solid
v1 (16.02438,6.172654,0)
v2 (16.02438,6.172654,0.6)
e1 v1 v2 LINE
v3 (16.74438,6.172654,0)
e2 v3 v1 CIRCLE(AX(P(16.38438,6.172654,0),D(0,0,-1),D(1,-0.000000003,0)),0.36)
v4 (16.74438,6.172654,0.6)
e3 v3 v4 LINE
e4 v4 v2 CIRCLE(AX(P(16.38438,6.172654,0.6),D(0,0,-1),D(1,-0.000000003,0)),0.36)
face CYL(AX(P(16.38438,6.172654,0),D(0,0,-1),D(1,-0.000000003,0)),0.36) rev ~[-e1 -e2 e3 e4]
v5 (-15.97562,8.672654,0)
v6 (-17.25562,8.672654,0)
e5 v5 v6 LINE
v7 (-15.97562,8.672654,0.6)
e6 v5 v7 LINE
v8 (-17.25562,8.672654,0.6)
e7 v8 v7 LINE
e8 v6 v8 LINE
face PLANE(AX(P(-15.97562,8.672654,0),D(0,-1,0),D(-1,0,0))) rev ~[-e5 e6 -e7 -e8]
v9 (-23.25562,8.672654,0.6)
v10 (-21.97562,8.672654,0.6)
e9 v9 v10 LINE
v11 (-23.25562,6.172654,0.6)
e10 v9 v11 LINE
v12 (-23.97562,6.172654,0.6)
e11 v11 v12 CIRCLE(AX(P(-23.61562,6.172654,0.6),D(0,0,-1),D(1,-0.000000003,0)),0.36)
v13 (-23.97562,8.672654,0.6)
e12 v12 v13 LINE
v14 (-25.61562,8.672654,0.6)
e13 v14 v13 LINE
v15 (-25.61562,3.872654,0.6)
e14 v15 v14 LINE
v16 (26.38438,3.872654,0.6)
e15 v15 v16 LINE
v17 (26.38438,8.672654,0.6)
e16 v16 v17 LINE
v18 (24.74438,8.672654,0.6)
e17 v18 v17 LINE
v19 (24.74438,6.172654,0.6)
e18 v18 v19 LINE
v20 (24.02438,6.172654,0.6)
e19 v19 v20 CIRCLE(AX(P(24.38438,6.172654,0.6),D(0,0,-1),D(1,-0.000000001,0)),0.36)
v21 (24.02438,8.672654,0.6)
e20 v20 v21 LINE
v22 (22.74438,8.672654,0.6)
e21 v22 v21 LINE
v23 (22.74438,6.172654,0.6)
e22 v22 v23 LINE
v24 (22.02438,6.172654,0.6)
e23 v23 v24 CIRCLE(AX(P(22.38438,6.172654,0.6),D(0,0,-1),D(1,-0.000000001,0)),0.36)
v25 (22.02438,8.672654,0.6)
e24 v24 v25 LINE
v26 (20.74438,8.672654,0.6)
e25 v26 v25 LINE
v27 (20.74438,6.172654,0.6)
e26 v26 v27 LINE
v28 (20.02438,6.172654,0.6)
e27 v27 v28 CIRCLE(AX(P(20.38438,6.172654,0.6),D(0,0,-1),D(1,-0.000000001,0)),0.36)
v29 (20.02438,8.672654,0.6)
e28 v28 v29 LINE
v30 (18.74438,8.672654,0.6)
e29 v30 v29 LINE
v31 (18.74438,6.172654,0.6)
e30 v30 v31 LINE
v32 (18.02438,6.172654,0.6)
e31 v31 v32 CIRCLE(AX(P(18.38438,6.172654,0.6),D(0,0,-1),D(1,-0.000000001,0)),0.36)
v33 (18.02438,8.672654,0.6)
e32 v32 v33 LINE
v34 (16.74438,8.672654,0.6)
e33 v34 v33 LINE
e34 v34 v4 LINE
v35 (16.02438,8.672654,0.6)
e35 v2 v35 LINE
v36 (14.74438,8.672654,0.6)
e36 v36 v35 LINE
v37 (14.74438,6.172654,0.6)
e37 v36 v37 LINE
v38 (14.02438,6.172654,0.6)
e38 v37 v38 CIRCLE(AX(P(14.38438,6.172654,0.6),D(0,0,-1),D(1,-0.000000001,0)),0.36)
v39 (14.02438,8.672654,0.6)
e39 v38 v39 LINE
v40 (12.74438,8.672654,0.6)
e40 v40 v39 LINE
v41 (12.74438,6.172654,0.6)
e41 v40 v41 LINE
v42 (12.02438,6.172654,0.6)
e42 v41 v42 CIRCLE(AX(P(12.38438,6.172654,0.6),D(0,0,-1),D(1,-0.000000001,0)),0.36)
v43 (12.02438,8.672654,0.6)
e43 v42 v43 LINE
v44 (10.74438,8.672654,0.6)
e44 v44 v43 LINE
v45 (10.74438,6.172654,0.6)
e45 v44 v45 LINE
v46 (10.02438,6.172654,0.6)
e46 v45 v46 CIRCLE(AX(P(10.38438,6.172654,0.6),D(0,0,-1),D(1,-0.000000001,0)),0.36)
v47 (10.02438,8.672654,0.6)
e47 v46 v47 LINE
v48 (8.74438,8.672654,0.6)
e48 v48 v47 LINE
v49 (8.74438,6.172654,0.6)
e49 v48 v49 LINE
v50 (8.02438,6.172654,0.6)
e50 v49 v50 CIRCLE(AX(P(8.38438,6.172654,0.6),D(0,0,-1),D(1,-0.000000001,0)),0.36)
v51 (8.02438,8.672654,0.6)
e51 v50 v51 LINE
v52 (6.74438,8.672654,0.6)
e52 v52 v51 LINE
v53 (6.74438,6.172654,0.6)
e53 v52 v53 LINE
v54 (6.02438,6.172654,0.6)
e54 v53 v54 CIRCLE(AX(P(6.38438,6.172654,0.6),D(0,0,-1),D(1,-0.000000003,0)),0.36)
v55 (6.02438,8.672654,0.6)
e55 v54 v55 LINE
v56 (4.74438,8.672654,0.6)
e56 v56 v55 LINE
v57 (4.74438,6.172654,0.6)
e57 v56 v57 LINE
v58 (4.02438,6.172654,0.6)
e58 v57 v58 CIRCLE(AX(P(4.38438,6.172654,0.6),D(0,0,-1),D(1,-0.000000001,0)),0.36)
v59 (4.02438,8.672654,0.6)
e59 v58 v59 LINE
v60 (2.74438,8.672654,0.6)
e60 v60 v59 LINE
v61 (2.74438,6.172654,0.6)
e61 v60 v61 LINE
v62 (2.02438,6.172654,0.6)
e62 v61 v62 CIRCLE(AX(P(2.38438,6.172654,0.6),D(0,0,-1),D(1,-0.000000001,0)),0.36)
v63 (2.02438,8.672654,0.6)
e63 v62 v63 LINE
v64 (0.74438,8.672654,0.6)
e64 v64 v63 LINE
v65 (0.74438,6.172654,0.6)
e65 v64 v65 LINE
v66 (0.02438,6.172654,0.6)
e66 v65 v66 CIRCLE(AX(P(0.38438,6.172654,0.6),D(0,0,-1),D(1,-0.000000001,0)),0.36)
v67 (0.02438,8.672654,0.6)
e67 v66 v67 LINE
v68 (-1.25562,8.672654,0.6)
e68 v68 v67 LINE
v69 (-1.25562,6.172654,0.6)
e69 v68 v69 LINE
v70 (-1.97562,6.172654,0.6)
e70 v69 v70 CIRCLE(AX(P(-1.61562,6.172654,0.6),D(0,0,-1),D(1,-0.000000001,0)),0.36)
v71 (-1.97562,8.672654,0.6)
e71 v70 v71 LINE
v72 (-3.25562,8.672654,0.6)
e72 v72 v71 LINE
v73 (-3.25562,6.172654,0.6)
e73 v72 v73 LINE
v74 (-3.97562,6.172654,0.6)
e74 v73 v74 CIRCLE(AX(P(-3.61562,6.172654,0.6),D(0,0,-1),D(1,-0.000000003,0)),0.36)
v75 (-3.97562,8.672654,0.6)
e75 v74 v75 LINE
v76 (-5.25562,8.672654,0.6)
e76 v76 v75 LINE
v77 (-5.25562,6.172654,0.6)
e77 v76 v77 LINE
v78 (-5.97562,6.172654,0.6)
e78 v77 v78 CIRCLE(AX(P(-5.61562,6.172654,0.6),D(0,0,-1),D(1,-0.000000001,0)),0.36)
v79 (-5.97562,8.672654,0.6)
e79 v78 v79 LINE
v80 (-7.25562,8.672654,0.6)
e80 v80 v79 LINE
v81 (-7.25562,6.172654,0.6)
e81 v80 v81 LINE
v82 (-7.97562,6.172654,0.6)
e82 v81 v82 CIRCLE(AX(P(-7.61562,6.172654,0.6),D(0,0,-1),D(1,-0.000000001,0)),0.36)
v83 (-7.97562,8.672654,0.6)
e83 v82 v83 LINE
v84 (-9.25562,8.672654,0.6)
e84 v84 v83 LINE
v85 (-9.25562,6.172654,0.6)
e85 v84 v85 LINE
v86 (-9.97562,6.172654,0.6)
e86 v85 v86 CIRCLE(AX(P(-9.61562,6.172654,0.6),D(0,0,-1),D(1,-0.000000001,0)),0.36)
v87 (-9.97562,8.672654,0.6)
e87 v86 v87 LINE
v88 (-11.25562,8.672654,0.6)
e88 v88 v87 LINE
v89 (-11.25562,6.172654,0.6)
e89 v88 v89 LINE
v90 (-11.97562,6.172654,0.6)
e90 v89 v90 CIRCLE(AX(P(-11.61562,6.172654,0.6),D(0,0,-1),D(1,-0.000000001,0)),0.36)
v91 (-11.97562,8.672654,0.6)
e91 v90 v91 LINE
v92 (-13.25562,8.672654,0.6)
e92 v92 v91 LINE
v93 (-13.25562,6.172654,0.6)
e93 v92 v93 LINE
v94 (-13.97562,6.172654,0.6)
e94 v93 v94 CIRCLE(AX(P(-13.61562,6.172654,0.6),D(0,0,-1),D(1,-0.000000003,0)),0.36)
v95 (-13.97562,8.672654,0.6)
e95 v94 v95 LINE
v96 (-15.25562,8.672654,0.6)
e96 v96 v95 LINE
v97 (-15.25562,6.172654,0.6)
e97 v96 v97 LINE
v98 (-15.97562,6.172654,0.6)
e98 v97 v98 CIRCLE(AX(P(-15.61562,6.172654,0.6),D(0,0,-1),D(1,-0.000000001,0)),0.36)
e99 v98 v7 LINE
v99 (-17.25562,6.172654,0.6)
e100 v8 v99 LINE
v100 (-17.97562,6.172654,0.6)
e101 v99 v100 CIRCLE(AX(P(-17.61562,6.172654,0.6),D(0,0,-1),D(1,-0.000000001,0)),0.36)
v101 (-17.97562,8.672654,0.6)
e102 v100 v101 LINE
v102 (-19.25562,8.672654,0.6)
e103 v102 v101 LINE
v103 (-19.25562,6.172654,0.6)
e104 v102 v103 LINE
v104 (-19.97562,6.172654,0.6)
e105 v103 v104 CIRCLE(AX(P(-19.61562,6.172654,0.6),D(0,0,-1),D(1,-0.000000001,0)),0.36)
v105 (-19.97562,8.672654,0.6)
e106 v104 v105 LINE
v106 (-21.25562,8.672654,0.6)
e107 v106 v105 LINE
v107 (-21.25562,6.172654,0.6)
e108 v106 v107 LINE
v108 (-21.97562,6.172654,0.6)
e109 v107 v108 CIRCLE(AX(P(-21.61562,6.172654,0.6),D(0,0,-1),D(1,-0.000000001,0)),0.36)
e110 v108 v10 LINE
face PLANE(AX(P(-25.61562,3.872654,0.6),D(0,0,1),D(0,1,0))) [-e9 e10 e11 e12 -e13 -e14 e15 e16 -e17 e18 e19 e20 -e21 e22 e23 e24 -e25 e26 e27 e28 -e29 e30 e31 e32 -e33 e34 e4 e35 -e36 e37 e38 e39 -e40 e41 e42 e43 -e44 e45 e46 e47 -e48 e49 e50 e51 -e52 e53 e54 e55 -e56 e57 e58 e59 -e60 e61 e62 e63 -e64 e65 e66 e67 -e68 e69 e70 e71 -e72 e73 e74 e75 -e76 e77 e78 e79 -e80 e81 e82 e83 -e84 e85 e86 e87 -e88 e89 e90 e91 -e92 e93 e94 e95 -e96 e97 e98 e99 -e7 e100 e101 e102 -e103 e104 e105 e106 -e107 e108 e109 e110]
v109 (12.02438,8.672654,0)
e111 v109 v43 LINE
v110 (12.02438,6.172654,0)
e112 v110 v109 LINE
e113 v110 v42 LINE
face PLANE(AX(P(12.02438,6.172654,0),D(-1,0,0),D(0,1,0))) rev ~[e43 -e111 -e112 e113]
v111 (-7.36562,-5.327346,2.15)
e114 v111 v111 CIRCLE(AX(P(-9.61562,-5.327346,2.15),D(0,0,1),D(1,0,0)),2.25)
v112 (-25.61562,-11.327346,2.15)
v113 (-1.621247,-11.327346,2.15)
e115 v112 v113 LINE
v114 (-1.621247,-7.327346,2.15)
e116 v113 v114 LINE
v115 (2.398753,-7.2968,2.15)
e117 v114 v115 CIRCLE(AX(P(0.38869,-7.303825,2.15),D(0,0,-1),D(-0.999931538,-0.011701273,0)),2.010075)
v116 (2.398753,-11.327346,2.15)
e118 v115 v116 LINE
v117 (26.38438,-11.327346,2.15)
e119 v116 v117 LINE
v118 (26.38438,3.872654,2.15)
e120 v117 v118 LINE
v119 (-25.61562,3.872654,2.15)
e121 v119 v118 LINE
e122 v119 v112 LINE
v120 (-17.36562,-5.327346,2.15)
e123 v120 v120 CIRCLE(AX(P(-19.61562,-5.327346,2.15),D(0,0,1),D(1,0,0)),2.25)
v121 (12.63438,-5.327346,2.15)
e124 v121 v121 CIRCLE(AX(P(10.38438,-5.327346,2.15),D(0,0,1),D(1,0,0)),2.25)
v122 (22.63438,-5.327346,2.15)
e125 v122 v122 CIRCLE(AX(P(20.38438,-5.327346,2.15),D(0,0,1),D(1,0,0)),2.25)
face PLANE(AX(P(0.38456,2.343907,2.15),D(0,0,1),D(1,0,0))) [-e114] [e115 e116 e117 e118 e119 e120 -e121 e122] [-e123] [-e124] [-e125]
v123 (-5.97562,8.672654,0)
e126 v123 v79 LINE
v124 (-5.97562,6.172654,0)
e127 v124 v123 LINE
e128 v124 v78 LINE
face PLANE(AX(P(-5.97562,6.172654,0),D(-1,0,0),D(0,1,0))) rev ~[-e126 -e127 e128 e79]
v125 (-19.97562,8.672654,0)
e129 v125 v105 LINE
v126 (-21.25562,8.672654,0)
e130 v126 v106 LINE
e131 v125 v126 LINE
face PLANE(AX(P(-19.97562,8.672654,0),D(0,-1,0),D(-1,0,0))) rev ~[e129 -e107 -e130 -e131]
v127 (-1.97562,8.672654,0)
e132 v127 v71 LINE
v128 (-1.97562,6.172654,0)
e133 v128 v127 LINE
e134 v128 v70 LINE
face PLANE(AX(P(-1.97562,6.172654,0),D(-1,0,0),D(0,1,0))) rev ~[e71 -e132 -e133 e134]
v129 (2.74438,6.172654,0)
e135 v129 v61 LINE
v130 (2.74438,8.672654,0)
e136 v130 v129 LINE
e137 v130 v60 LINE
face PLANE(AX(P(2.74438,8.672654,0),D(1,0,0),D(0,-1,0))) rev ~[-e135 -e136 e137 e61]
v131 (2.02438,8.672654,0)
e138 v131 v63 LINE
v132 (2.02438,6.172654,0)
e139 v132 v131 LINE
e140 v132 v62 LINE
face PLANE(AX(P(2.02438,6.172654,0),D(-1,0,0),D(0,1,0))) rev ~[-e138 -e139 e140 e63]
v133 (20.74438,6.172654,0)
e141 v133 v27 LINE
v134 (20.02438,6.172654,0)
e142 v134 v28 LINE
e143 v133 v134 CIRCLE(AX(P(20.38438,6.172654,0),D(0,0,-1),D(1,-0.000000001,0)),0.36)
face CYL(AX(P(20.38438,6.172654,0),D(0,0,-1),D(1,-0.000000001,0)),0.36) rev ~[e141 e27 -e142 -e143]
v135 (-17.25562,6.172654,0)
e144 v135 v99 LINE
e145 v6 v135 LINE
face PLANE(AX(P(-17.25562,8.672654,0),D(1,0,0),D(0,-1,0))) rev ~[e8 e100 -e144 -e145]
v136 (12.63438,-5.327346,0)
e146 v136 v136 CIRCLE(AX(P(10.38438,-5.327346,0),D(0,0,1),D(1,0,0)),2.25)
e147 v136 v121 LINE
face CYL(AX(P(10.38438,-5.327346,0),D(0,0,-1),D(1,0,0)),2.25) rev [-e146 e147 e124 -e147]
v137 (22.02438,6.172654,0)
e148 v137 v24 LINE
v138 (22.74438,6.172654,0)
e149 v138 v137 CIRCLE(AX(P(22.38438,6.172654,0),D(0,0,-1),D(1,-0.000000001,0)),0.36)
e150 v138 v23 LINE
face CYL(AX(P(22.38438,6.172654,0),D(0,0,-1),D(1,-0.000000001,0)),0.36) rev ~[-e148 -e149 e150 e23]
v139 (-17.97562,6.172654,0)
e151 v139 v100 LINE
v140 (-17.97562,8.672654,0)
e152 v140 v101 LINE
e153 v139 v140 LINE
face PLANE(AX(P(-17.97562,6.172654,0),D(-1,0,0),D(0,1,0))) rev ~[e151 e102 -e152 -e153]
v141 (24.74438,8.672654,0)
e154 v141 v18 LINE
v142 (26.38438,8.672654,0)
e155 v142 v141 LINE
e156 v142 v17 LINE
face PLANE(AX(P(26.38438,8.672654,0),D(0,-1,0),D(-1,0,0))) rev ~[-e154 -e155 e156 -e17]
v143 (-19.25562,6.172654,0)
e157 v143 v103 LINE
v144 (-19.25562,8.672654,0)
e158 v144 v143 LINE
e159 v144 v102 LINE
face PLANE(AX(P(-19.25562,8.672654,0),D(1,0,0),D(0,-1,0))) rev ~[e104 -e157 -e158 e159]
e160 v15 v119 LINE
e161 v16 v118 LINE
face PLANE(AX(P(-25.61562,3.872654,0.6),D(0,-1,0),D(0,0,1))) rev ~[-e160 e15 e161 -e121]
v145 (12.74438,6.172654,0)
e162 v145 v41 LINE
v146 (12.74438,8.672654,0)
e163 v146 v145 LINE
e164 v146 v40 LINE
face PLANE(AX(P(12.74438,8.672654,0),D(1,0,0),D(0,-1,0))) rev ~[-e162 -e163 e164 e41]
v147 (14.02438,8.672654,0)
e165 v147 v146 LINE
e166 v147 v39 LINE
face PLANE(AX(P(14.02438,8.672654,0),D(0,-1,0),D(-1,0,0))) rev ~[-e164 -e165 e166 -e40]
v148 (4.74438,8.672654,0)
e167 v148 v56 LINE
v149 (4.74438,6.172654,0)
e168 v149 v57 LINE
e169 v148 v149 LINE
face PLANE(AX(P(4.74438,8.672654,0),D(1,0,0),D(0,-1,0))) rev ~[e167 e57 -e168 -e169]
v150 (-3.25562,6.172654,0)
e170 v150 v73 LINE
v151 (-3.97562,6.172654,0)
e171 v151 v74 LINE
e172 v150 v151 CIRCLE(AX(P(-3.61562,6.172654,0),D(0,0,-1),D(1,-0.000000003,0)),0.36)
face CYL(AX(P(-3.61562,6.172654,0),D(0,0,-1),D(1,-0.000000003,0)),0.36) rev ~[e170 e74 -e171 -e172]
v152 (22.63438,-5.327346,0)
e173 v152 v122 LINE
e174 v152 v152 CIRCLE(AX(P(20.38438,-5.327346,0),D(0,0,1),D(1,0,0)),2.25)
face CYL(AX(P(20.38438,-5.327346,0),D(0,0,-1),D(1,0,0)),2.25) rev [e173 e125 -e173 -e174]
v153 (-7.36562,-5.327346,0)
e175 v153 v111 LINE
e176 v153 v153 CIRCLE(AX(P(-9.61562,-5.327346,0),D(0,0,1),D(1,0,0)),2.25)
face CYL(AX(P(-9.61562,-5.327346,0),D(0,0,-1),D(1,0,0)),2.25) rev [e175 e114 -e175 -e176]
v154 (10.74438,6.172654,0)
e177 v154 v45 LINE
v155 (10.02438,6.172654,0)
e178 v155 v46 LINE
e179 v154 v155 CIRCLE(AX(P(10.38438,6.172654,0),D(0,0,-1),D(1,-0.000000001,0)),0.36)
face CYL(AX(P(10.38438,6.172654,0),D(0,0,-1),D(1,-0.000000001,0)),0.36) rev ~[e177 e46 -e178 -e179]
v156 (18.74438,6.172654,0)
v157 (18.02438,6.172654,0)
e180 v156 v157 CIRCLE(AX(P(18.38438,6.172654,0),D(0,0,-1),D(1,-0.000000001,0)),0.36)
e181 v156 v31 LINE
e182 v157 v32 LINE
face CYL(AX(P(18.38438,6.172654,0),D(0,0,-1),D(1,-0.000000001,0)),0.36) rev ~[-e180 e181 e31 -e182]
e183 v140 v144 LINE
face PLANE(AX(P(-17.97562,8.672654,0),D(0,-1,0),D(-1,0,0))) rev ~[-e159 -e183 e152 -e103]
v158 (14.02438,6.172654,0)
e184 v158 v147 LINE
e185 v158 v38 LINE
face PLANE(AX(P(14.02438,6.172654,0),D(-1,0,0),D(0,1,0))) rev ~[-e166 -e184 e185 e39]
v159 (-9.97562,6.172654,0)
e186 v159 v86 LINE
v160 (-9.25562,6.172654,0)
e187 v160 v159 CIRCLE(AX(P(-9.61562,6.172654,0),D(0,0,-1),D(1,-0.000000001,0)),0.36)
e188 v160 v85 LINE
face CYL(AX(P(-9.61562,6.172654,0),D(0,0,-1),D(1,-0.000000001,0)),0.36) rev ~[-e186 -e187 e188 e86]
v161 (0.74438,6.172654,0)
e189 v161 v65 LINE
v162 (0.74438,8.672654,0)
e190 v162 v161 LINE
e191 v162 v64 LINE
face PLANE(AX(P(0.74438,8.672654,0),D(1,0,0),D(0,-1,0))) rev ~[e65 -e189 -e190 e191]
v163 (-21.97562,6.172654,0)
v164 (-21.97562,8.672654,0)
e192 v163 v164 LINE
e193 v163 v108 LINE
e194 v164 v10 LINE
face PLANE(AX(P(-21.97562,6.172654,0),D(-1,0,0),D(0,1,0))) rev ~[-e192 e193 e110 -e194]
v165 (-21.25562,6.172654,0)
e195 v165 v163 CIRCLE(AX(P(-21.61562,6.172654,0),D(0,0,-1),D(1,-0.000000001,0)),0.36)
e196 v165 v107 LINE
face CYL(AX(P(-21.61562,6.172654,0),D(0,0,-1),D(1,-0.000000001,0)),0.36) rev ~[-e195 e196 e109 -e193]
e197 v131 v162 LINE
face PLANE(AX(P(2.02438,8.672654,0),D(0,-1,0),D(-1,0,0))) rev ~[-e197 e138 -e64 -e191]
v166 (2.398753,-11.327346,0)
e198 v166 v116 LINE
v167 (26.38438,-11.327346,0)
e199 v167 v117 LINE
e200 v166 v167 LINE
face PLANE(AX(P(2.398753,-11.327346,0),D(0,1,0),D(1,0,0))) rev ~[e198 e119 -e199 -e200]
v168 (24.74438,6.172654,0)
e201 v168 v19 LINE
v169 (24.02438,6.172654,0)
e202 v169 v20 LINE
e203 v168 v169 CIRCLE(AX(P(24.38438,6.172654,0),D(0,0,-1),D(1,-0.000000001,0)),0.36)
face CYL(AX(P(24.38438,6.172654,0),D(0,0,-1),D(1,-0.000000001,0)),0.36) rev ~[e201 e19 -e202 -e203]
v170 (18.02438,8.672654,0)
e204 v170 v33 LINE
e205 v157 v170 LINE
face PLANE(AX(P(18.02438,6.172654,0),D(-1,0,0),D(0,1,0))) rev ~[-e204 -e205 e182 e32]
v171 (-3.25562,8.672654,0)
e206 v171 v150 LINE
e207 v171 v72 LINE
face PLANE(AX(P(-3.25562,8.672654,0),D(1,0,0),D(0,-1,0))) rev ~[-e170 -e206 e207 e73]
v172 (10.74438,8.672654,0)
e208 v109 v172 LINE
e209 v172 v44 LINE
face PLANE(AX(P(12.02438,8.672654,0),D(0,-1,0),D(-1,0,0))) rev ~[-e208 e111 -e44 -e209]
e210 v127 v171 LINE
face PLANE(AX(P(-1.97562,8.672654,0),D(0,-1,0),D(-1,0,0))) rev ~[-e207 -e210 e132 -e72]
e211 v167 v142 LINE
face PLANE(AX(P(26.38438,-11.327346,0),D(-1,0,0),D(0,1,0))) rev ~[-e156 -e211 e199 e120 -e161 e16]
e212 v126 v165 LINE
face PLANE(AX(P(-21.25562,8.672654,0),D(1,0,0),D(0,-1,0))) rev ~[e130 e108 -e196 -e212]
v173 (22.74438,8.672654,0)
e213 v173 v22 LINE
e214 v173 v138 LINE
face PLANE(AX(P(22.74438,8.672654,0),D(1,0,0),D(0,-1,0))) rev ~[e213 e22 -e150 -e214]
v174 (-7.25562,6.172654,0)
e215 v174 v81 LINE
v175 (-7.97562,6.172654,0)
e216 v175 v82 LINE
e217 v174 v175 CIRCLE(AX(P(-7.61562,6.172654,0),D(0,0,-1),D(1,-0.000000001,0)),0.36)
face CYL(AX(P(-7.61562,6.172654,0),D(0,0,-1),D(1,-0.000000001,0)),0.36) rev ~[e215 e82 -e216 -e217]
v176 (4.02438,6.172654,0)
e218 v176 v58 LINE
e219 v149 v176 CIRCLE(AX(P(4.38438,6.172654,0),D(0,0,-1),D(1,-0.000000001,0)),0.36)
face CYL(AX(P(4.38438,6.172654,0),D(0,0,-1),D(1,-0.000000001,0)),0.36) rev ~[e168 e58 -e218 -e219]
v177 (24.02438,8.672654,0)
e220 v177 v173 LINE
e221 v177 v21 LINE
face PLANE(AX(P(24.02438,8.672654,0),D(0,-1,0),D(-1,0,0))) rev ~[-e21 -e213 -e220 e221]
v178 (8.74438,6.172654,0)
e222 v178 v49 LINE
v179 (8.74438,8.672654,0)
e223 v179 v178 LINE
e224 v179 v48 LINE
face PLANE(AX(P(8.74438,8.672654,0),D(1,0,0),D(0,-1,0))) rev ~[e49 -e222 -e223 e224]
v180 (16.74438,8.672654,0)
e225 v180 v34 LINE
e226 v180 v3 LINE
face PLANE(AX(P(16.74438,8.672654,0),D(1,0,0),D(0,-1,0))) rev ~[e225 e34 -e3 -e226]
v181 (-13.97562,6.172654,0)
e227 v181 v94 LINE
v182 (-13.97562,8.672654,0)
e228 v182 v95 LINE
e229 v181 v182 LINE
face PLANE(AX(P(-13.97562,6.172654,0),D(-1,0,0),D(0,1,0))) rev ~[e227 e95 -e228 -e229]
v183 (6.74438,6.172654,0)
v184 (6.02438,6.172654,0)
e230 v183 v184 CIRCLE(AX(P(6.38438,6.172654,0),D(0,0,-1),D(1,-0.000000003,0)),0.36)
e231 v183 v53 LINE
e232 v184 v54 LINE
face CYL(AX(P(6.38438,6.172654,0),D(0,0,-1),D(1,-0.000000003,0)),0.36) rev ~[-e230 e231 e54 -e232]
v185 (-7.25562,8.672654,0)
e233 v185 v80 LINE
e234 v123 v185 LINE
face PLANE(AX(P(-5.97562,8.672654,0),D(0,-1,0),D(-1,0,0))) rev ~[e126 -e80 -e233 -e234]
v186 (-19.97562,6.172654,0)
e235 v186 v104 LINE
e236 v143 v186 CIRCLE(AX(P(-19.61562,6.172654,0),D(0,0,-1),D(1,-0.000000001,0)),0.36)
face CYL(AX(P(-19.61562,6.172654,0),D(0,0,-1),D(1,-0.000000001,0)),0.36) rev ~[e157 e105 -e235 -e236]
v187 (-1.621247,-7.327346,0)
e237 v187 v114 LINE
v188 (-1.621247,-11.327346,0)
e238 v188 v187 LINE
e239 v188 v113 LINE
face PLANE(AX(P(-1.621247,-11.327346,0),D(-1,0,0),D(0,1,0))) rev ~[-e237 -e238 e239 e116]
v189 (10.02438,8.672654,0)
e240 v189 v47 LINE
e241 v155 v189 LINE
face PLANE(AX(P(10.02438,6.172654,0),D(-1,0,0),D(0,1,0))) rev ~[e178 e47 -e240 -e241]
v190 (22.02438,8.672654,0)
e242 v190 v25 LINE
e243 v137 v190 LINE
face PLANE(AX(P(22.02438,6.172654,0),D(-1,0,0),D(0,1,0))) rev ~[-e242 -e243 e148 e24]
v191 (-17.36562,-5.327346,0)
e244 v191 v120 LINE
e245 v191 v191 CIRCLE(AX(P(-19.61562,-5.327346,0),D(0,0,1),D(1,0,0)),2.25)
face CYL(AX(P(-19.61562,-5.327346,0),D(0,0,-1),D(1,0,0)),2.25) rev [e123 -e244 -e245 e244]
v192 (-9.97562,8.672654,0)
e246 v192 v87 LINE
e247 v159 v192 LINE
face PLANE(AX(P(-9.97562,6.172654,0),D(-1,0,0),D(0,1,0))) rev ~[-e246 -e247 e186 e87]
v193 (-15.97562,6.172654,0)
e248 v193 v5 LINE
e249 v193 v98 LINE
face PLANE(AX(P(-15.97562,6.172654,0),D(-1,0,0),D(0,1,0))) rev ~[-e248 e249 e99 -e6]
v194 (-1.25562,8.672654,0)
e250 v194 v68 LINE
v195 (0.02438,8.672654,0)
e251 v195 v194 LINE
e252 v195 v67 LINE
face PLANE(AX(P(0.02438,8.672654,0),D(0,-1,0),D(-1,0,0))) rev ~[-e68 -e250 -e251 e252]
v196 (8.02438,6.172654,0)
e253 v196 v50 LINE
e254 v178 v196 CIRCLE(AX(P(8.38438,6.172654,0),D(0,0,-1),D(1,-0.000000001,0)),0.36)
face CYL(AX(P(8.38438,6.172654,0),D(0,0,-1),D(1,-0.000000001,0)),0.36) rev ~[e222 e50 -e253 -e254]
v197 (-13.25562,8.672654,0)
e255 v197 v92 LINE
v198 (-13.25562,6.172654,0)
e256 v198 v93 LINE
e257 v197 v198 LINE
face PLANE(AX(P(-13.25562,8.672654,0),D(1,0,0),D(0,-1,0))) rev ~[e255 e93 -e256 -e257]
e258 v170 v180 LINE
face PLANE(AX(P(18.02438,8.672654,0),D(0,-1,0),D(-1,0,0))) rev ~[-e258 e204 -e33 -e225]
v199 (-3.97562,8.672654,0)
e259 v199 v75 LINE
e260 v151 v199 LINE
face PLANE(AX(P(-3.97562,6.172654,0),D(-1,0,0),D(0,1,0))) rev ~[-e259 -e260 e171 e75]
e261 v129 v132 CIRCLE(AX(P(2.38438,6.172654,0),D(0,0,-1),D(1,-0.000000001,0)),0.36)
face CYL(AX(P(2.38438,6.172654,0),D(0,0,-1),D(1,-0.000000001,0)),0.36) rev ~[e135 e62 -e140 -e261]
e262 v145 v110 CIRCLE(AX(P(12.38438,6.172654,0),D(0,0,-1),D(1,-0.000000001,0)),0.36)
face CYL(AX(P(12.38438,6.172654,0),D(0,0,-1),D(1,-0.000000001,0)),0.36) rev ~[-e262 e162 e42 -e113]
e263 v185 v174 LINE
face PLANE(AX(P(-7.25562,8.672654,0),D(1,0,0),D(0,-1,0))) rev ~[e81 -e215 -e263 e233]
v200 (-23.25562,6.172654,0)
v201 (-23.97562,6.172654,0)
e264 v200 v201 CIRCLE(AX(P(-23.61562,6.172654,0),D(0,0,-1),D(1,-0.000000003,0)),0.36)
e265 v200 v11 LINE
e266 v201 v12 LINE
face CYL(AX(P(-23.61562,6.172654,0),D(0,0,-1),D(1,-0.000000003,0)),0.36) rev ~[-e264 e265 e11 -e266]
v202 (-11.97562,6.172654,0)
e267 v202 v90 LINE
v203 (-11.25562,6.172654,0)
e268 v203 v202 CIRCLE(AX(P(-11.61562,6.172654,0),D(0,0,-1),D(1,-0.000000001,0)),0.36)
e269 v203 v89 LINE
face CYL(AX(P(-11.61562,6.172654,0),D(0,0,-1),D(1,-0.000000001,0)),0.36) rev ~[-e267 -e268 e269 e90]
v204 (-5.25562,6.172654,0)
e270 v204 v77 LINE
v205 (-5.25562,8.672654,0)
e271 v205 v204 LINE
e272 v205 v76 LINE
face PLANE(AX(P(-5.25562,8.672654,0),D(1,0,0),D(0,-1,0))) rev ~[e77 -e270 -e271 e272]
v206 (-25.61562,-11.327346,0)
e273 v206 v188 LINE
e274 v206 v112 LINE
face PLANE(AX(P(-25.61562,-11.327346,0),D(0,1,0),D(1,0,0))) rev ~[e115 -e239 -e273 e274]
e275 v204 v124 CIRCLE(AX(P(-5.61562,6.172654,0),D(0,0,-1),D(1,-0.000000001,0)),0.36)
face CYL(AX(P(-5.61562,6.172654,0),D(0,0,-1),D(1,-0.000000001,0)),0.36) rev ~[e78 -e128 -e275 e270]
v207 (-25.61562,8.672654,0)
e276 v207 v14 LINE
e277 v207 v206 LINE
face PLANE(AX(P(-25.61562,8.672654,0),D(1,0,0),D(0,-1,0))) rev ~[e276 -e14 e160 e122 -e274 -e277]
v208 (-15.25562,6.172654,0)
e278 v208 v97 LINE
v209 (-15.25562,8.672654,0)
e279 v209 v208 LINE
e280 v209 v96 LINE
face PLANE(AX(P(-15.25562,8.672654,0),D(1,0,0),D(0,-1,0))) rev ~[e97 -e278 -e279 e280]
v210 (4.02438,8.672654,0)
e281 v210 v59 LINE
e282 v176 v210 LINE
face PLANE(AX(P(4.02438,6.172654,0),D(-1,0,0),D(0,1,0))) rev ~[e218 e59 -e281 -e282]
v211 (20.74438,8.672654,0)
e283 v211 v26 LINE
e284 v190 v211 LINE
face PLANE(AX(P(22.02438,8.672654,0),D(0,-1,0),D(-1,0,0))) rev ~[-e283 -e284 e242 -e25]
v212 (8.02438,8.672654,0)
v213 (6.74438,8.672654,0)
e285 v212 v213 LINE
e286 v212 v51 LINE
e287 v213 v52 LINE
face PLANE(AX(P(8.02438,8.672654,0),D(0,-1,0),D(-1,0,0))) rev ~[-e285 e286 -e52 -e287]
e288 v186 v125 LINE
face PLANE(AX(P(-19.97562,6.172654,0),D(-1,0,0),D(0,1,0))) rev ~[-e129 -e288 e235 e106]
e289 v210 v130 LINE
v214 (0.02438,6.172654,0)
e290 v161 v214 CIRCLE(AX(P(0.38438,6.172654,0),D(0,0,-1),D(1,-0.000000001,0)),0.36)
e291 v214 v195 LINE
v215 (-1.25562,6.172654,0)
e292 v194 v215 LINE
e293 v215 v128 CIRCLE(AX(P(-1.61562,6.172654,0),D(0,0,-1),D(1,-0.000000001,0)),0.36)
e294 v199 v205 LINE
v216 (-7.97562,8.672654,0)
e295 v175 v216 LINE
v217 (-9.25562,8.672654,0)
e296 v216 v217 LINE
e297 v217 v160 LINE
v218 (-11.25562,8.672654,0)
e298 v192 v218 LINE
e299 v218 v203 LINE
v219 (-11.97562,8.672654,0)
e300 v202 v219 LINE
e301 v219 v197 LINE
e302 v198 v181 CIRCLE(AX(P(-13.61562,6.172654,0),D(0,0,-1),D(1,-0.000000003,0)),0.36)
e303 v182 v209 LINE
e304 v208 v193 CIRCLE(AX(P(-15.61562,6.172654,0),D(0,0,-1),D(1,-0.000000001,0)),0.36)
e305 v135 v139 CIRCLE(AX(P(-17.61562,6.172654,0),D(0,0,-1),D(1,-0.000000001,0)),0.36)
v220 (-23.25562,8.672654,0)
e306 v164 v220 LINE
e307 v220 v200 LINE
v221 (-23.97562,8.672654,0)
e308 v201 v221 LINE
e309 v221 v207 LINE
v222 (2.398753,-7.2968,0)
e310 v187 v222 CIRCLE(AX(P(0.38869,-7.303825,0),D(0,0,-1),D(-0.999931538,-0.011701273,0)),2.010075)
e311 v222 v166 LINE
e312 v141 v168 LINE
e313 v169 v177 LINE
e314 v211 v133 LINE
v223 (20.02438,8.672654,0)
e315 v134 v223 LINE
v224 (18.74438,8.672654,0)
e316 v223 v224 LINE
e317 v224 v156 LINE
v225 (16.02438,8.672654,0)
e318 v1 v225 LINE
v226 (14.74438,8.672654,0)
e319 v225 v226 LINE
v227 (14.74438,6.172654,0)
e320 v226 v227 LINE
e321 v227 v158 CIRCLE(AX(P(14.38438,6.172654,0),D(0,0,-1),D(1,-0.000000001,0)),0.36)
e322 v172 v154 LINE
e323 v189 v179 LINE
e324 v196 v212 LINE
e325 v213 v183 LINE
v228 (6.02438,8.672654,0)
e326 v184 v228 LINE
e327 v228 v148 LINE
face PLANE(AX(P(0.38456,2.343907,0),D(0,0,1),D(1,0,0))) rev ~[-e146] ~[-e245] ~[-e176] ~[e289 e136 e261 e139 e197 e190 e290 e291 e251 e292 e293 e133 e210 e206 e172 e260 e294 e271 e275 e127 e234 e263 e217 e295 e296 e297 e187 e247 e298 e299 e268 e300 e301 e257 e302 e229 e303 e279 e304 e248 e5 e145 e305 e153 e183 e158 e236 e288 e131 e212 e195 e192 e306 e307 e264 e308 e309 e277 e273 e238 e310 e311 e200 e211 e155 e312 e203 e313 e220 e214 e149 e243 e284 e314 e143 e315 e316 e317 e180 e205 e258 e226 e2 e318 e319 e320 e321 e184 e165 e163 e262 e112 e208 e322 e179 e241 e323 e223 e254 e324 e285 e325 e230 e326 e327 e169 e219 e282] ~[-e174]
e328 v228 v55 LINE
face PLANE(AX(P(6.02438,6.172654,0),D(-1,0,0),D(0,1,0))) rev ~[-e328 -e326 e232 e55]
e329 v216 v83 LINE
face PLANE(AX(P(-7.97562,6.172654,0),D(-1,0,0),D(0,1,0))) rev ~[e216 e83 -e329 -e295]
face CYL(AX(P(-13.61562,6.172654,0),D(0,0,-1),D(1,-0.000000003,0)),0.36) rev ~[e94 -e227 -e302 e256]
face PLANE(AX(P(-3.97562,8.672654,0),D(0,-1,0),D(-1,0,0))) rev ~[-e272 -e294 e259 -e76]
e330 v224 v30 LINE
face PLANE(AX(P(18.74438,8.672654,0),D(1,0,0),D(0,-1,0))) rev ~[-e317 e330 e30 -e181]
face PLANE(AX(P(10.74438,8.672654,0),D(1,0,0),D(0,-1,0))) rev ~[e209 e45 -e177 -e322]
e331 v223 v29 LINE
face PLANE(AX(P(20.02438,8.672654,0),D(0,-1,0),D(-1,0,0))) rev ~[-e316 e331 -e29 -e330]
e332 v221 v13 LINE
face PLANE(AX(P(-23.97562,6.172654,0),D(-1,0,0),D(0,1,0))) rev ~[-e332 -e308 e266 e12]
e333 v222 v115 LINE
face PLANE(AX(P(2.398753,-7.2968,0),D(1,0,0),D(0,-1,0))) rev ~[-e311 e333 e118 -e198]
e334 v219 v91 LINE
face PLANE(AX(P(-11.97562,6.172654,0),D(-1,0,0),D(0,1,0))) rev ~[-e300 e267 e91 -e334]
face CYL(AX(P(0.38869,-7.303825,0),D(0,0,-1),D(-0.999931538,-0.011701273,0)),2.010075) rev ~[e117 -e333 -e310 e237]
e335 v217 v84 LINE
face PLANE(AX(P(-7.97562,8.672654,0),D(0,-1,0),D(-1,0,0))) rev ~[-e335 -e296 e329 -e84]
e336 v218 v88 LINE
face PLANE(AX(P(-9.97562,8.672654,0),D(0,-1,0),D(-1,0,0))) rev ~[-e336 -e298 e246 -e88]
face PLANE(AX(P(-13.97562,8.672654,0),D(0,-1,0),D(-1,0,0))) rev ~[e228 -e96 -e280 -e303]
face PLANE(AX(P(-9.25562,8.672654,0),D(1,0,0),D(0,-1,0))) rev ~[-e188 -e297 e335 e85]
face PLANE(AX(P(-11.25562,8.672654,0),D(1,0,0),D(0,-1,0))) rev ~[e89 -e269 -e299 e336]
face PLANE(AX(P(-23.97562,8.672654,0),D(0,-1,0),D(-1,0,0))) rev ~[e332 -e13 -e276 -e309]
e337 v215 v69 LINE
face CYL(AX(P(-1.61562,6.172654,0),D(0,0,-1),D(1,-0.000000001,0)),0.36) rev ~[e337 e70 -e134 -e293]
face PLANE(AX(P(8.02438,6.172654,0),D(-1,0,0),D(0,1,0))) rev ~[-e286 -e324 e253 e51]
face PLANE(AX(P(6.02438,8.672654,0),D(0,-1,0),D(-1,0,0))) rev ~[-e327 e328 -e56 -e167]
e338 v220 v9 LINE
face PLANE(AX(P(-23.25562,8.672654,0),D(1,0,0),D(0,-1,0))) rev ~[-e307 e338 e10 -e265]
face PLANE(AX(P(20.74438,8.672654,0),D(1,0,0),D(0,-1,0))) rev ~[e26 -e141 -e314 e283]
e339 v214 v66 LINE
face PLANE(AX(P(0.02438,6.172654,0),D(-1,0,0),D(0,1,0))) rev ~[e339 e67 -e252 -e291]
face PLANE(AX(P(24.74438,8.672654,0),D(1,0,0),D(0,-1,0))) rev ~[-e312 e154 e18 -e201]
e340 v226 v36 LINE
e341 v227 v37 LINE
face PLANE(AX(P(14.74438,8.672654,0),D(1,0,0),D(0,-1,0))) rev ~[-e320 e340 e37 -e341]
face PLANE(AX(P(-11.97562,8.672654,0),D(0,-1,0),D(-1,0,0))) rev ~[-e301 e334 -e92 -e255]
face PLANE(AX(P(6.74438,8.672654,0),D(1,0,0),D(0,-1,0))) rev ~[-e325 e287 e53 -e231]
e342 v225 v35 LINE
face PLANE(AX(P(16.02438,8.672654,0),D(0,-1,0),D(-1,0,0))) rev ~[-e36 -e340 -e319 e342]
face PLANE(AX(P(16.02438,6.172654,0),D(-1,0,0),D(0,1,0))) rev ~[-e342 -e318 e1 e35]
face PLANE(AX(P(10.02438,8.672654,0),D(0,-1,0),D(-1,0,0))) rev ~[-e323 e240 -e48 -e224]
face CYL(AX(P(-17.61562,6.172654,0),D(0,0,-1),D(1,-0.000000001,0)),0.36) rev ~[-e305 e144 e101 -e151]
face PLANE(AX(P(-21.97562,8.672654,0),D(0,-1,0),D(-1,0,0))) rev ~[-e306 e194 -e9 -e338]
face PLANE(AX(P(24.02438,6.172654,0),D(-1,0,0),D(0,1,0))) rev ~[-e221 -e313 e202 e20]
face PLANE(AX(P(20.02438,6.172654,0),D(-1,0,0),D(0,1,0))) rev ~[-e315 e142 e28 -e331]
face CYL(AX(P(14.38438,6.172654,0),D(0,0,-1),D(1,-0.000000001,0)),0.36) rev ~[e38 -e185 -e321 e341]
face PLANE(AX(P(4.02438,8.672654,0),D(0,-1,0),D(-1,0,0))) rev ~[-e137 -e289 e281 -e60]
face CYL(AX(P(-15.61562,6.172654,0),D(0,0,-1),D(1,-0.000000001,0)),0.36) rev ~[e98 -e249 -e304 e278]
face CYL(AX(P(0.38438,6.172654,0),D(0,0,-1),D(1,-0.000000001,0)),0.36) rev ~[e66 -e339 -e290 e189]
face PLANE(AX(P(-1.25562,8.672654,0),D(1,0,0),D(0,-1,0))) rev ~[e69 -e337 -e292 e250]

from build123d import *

# Parameters (mm, degrees)
SKETCH1_R           = 2.25
BOSS_EXTRUDE1_DEPTH = 2.15
SKETCH2_W           = 1.55
SKETCH2_H           = 4.8
CUT_EXTRUDE1_DEPTH  = 53


with BuildPart() as part:
    # Sketch1 → Boss-Extrude1 (new body)
    with BuildSketch(Plane.XY):
        with BuildLine():
            Line((2.398752887, -11.327345722), (26.384379929, -11.327345722))
            Line((26.384379929, -11.327345722), (26.384379929, 8.672654278))
            Line((26.384379929, 8.672654278), (26.024379959, 8.672654278))
            Line((26.024379959, 8.672654278), (24.744379959, 8.672654278))
            Line((24.744379959, 8.672654278), (24.744379959, 6.172654278))
            ThreePointArc((24.744379959, 6.172654278), (24.384379958, 5.812654278), (24.024379958, 6.172654278))
            Line((24.024379958, 6.172654278), (24.024379958, 8.672654278))
            Line((24.024379958, 8.672654278), (22.744379958, 8.672654278))
            Line((22.744379958, 8.672654278), (22.744379958, 6.172654278))
            ThreePointArc((22.744379958, 6.172654278), (22.384379957, 5.812654278), (22.024379957, 6.172654278))
            Line((22.024379957, 6.172654278), (22.024379957, 8.672654278))
            Line((22.024379957, 8.672654278), (20.744379957, 8.672654278))
            Line((20.744379957, 8.672654278), (20.744379957, 6.172654278))
            ThreePointArc((20.744379957, 6.172654278), (20.384379956, 5.812654278), (20.024379956, 6.172654278))
            Line((20.024379956, 6.172654278), (20.024379956, 8.672654278))
            Line((20.024379956, 8.672654278), (18.744379956, 8.672654278))
            Line((18.744379956, 8.672654278), (18.744379956, 6.172654278))
            ThreePointArc((18.744379956, 6.172654278), (18.384379955, 5.812654278), (18.024379955, 6.172654278))
            Line((18.024379955, 6.172654278), (18.024379955, 8.672654278))
            Line((18.024379955, 8.672654278), (16.744379955, 8.672654278))
            Line((16.744379955, 8.672654278), (16.744379955, 6.172654278))
            ThreePointArc((16.744379955, 6.172654278), (16.384379953, 5.812654278), (16.024379953, 6.172654278))
            Line((16.024379953, 6.172654278), (16.024379953, 8.672654278))
            Line((16.024379953, 8.672654278), (14.744379953, 8.672654278))
            Line((14.744379953, 8.672654278), (14.744379953, 6.172654278))
            ThreePointArc((14.744379953, 6.172654278), (14.384379952, 5.812654278), (14.024379952, 6.172654278))
            Line((14.024379952, 6.172654278), (14.024379952, 8.672654278))
            Line((14.024379952, 8.672654278), (12.744379952, 8.672654278))
            Line((12.744379952, 8.672654278), (12.744379952, 6.172654278))
            ThreePointArc((12.744379952, 6.172654278), (12.384379951, 5.812654278), (12.024379951, 6.172654278))
            Line((12.024379951, 6.172654278), (12.024379951, 8.672654278))
            Line((12.024379951, 8.672654278), (10.744379951, 8.672654278))
            Line((10.744379951, 8.672654278), (10.744379951, 6.172654278))
            ThreePointArc((10.744379951, 6.172654278), (10.38437995, 5.812654278), (10.02437995, 6.172654278))
            Line((10.02437995, 6.172654278), (10.02437995, 8.672654278))
            Line((10.02437995, 8.672654278), (8.74437995, 8.672654278))
            Line((8.74437995, 8.672654278), (8.74437995, 6.172654278))
            ThreePointArc((8.74437995, 6.172654278), (8.384379949, 5.812654278), (8.024379949, 6.172654278))
            Line((8.024379949, 6.172654278), (8.024379949, 8.672654278))
            Line((8.024379949, 8.672654278), (6.744379949, 8.672654278))
            Line((6.744379949, 8.672654278), (6.744379949, 6.172654278))
            ThreePointArc((6.744379949, 6.172654278), (6.384379947, 5.812654278), (6.024379947, 6.172654278))
            Line((6.024379947, 6.172654278), (6.024379947, 8.672654278))
            Line((6.024379947, 8.672654278), (4.744379947, 8.672654278))
            Line((4.744379947, 8.672654278), (4.744379947, 6.172654278))
            ThreePointArc((4.744379947, 6.172654278), (4.384379946, 5.812654278), (4.024379946, 6.172654278))
            Line((4.024379946, 6.172654278), (4.024379946, 8.672654278))
            Line((4.024379946, 8.672654278), (2.744379946, 8.672654278))
            Line((2.744379946, 8.672654278), (2.744379946, 6.172654278))
            ThreePointArc((2.744379946, 6.172654278), (2.384379945, 5.812654278), (2.024379945, 6.172654278))
            Line((2.024379945, 6.172654278), (2.024379945, 8.672654278))
            Line((2.024379945, 8.672654278), (0.744379945, 8.672654278))
            Line((0.744379945, 8.672654278), (0.744379945, 6.172654278))
            ThreePointArc((0.744379945, 6.172654278), (0.384379944, 5.812654278), (0.024379944, 6.172654278))
            Line((0.024379944, 6.172654278), (0.024379944, 8.672654278))
            Line((0.024379944, 8.672654278), (-1.255620056, 8.672654278))
            Line((-1.255620056, 8.672654278), (-1.255620056, 6.172654278))
            ThreePointArc((-1.255620056, 6.172654278), (-1.615620057, 5.812654278), (-1.975620057, 6.172654278))
            Line((-1.975620057, 6.172654278), (-1.975620057, 8.672654278))
            Line((-1.975620057, 8.672654278), (-3.255620057, 8.672654278))
            Line((-3.255620057, 8.672654278), (-3.255620057, 6.172654278))
            ThreePointArc((-3.255620057, 6.172654278), (-3.615620059, 5.812654278), (-3.975620059, 6.172654278))
            Line((-3.975620059, 6.172654278), (-3.975620059, 8.672654278))
            Line((-3.975620059, 8.672654278), (-5.255620059, 8.672654278))
            Line((-5.255620059, 8.672654278), (-5.255620059, 6.172654278))
            ThreePointArc((-5.255620059, 6.172654278), (-5.61562006, 5.812654278), (-5.97562006, 6.172654278))
            Line((-5.97562006, 6.172654278), (-5.97562006, 8.672654278))
            Line((-5.97562006, 8.672654278), (-7.25562006, 8.672654278))
            Line((-7.25562006, 8.672654278), (-7.25562006, 6.172654278))
            ThreePointArc((-7.25562006, 6.172654278), (-7.615620061, 5.812654278), (-7.975620061, 6.172654278))
            Line((-7.975620061, 6.172654278), (-7.975620061, 8.672654278))
            Line((-7.975620061, 8.672654278), (-9.255620061, 8.672654278))
            Line((-9.255620061, 8.672654278), (-9.255620061, 6.172654278))
            ThreePointArc((-9.255620061, 6.172654278), (-9.615620062, 5.812654278), (-9.975620062, 6.172654278))
            Line((-9.975620062, 6.172654278), (-9.975620062, 8.672654278))
            Line((-9.975620062, 8.672654278), (-11.255620062, 8.672654278))
            Line((-11.255620062, 8.672654278), (-11.255620062, 6.172654278))
            ThreePointArc((-11.255620062, 6.172654278), (-11.615620063, 5.812654278), (-11.975620063, 6.172654278))
            Line((-11.975620063, 6.172654278), (-11.975620063, 8.672654278))
            Line((-11.975620063, 8.672654278), (-13.255620063, 8.672654278))
            Line((-13.255620063, 8.672654278), (-13.255620063, 6.172654278))
            ThreePointArc((-13.255620063, 6.172654278), (-13.615620065, 5.812654278), (-13.975620065, 6.172654278))
            Line((-13.975620065, 6.172654278), (-13.975620065, 8.672654278))
            Line((-13.975620065, 8.672654278), (-15.255620065, 8.672654278))
            Line((-15.255620065, 8.672654278), (-15.255620065, 6.172654278))
            ThreePointArc((-15.255620065, 6.172654278), (-15.615620066, 5.812654278), (-15.975620066, 6.172654278))
            Line((-15.975620066, 6.172654278), (-15.975620066, 8.672654278))
            Line((-15.975620066, 8.672654278), (-17.255620066, 8.672654278))
            Line((-17.255620066, 8.672654278), (-17.255620066, 6.172654278))
            ThreePointArc((-17.255620066, 6.172654278), (-17.615620067, 5.812654278), (-17.975620067, 6.172654278))
            Line((-17.975620067, 6.172654278), (-17.975620067, 8.672654278))
            Line((-17.975620067, 8.672654278), (-19.255620067, 8.672654278))
            Line((-19.255620067, 8.672654278), (-19.255620067, 6.172654278))
            ThreePointArc((-19.255620067, 6.172654278), (-19.615620068, 5.812654278), (-19.975620068, 6.172654278))
            Line((-19.975620068, 6.172654278), (-19.975620068, 8.672654278))
            Line((-19.975620068, 8.672654278), (-21.255620068, 8.672654278))
            Line((-21.255620068, 8.672654278), (-21.255620068, 6.172654278))
            ThreePointArc((-21.255620068, 6.172654278), (-21.615620069, 5.812654278), (-21.975620069, 6.172654278))
            Line((-21.975620069, 6.172654278), (-21.975620069, 8.672654278))
            Line((-21.975620069, 8.672654278), (-23.255620069, 8.672654278))
            Line((-23.255620069, 8.672654278), (-23.255620069, 6.172654278))
            ThreePointArc((-23.255620069, 6.172654278), (-23.615620071, 5.812654278), (-23.975620071, 6.172654278))
            Line((-23.975620071, 6.172654278), (-23.975620071, 8.672654278))
            Line((-23.975620071, 8.672654278), (-25.615620071, 8.672654278))
            Line((-25.615620071, 8.672654278), (-25.615620071, -11.327345722))
            Line((-25.615620071, -11.327345722), (-1.621247113, -11.327345722))
            Line((-1.621247113, -11.327345722), (-1.621247113, -7.327345722))
            ThreePointArc((-1.621247113, -7.327345722), (0.373417474, -5.293808364), (2.398752887, -7.296800492))
            Line((2.398752887, -7.296800492), (2.398752887, -11.327345722))
        make_face()
        with Locations((-19.615620071, -5.327345722)):
            Circle(SKETCH1_R, mode=Mode.SUBTRACT)
        with Locations((-9.615620071, -5.327345722)):
            Circle(SKETCH1_R, mode=Mode.SUBTRACT)
        with Locations((10.384379929, -5.327345722)):
            Circle(SKETCH1_R, mode=Mode.SUBTRACT)
        with Locations((20.384379929, -5.327345722)):
            Circle(SKETCH1_R, mode=Mode.SUBTRACT)
    extrude(amount=BOSS_EXTRUDE1_DEPTH)

    # Sketch2 → Cut-Extrude1 (cut, through all)
    with BuildSketch(Plane.ZY.offset(25.615620071)):
        with Locations((1.375, 6.272654278)):
            Rectangle(SKETCH2_W, SKETCH2_H)
    extrude(amount=-CUT_EXTRUDE1_DEPTH, mode=Mode.SUBTRACT)


solid = part.part
